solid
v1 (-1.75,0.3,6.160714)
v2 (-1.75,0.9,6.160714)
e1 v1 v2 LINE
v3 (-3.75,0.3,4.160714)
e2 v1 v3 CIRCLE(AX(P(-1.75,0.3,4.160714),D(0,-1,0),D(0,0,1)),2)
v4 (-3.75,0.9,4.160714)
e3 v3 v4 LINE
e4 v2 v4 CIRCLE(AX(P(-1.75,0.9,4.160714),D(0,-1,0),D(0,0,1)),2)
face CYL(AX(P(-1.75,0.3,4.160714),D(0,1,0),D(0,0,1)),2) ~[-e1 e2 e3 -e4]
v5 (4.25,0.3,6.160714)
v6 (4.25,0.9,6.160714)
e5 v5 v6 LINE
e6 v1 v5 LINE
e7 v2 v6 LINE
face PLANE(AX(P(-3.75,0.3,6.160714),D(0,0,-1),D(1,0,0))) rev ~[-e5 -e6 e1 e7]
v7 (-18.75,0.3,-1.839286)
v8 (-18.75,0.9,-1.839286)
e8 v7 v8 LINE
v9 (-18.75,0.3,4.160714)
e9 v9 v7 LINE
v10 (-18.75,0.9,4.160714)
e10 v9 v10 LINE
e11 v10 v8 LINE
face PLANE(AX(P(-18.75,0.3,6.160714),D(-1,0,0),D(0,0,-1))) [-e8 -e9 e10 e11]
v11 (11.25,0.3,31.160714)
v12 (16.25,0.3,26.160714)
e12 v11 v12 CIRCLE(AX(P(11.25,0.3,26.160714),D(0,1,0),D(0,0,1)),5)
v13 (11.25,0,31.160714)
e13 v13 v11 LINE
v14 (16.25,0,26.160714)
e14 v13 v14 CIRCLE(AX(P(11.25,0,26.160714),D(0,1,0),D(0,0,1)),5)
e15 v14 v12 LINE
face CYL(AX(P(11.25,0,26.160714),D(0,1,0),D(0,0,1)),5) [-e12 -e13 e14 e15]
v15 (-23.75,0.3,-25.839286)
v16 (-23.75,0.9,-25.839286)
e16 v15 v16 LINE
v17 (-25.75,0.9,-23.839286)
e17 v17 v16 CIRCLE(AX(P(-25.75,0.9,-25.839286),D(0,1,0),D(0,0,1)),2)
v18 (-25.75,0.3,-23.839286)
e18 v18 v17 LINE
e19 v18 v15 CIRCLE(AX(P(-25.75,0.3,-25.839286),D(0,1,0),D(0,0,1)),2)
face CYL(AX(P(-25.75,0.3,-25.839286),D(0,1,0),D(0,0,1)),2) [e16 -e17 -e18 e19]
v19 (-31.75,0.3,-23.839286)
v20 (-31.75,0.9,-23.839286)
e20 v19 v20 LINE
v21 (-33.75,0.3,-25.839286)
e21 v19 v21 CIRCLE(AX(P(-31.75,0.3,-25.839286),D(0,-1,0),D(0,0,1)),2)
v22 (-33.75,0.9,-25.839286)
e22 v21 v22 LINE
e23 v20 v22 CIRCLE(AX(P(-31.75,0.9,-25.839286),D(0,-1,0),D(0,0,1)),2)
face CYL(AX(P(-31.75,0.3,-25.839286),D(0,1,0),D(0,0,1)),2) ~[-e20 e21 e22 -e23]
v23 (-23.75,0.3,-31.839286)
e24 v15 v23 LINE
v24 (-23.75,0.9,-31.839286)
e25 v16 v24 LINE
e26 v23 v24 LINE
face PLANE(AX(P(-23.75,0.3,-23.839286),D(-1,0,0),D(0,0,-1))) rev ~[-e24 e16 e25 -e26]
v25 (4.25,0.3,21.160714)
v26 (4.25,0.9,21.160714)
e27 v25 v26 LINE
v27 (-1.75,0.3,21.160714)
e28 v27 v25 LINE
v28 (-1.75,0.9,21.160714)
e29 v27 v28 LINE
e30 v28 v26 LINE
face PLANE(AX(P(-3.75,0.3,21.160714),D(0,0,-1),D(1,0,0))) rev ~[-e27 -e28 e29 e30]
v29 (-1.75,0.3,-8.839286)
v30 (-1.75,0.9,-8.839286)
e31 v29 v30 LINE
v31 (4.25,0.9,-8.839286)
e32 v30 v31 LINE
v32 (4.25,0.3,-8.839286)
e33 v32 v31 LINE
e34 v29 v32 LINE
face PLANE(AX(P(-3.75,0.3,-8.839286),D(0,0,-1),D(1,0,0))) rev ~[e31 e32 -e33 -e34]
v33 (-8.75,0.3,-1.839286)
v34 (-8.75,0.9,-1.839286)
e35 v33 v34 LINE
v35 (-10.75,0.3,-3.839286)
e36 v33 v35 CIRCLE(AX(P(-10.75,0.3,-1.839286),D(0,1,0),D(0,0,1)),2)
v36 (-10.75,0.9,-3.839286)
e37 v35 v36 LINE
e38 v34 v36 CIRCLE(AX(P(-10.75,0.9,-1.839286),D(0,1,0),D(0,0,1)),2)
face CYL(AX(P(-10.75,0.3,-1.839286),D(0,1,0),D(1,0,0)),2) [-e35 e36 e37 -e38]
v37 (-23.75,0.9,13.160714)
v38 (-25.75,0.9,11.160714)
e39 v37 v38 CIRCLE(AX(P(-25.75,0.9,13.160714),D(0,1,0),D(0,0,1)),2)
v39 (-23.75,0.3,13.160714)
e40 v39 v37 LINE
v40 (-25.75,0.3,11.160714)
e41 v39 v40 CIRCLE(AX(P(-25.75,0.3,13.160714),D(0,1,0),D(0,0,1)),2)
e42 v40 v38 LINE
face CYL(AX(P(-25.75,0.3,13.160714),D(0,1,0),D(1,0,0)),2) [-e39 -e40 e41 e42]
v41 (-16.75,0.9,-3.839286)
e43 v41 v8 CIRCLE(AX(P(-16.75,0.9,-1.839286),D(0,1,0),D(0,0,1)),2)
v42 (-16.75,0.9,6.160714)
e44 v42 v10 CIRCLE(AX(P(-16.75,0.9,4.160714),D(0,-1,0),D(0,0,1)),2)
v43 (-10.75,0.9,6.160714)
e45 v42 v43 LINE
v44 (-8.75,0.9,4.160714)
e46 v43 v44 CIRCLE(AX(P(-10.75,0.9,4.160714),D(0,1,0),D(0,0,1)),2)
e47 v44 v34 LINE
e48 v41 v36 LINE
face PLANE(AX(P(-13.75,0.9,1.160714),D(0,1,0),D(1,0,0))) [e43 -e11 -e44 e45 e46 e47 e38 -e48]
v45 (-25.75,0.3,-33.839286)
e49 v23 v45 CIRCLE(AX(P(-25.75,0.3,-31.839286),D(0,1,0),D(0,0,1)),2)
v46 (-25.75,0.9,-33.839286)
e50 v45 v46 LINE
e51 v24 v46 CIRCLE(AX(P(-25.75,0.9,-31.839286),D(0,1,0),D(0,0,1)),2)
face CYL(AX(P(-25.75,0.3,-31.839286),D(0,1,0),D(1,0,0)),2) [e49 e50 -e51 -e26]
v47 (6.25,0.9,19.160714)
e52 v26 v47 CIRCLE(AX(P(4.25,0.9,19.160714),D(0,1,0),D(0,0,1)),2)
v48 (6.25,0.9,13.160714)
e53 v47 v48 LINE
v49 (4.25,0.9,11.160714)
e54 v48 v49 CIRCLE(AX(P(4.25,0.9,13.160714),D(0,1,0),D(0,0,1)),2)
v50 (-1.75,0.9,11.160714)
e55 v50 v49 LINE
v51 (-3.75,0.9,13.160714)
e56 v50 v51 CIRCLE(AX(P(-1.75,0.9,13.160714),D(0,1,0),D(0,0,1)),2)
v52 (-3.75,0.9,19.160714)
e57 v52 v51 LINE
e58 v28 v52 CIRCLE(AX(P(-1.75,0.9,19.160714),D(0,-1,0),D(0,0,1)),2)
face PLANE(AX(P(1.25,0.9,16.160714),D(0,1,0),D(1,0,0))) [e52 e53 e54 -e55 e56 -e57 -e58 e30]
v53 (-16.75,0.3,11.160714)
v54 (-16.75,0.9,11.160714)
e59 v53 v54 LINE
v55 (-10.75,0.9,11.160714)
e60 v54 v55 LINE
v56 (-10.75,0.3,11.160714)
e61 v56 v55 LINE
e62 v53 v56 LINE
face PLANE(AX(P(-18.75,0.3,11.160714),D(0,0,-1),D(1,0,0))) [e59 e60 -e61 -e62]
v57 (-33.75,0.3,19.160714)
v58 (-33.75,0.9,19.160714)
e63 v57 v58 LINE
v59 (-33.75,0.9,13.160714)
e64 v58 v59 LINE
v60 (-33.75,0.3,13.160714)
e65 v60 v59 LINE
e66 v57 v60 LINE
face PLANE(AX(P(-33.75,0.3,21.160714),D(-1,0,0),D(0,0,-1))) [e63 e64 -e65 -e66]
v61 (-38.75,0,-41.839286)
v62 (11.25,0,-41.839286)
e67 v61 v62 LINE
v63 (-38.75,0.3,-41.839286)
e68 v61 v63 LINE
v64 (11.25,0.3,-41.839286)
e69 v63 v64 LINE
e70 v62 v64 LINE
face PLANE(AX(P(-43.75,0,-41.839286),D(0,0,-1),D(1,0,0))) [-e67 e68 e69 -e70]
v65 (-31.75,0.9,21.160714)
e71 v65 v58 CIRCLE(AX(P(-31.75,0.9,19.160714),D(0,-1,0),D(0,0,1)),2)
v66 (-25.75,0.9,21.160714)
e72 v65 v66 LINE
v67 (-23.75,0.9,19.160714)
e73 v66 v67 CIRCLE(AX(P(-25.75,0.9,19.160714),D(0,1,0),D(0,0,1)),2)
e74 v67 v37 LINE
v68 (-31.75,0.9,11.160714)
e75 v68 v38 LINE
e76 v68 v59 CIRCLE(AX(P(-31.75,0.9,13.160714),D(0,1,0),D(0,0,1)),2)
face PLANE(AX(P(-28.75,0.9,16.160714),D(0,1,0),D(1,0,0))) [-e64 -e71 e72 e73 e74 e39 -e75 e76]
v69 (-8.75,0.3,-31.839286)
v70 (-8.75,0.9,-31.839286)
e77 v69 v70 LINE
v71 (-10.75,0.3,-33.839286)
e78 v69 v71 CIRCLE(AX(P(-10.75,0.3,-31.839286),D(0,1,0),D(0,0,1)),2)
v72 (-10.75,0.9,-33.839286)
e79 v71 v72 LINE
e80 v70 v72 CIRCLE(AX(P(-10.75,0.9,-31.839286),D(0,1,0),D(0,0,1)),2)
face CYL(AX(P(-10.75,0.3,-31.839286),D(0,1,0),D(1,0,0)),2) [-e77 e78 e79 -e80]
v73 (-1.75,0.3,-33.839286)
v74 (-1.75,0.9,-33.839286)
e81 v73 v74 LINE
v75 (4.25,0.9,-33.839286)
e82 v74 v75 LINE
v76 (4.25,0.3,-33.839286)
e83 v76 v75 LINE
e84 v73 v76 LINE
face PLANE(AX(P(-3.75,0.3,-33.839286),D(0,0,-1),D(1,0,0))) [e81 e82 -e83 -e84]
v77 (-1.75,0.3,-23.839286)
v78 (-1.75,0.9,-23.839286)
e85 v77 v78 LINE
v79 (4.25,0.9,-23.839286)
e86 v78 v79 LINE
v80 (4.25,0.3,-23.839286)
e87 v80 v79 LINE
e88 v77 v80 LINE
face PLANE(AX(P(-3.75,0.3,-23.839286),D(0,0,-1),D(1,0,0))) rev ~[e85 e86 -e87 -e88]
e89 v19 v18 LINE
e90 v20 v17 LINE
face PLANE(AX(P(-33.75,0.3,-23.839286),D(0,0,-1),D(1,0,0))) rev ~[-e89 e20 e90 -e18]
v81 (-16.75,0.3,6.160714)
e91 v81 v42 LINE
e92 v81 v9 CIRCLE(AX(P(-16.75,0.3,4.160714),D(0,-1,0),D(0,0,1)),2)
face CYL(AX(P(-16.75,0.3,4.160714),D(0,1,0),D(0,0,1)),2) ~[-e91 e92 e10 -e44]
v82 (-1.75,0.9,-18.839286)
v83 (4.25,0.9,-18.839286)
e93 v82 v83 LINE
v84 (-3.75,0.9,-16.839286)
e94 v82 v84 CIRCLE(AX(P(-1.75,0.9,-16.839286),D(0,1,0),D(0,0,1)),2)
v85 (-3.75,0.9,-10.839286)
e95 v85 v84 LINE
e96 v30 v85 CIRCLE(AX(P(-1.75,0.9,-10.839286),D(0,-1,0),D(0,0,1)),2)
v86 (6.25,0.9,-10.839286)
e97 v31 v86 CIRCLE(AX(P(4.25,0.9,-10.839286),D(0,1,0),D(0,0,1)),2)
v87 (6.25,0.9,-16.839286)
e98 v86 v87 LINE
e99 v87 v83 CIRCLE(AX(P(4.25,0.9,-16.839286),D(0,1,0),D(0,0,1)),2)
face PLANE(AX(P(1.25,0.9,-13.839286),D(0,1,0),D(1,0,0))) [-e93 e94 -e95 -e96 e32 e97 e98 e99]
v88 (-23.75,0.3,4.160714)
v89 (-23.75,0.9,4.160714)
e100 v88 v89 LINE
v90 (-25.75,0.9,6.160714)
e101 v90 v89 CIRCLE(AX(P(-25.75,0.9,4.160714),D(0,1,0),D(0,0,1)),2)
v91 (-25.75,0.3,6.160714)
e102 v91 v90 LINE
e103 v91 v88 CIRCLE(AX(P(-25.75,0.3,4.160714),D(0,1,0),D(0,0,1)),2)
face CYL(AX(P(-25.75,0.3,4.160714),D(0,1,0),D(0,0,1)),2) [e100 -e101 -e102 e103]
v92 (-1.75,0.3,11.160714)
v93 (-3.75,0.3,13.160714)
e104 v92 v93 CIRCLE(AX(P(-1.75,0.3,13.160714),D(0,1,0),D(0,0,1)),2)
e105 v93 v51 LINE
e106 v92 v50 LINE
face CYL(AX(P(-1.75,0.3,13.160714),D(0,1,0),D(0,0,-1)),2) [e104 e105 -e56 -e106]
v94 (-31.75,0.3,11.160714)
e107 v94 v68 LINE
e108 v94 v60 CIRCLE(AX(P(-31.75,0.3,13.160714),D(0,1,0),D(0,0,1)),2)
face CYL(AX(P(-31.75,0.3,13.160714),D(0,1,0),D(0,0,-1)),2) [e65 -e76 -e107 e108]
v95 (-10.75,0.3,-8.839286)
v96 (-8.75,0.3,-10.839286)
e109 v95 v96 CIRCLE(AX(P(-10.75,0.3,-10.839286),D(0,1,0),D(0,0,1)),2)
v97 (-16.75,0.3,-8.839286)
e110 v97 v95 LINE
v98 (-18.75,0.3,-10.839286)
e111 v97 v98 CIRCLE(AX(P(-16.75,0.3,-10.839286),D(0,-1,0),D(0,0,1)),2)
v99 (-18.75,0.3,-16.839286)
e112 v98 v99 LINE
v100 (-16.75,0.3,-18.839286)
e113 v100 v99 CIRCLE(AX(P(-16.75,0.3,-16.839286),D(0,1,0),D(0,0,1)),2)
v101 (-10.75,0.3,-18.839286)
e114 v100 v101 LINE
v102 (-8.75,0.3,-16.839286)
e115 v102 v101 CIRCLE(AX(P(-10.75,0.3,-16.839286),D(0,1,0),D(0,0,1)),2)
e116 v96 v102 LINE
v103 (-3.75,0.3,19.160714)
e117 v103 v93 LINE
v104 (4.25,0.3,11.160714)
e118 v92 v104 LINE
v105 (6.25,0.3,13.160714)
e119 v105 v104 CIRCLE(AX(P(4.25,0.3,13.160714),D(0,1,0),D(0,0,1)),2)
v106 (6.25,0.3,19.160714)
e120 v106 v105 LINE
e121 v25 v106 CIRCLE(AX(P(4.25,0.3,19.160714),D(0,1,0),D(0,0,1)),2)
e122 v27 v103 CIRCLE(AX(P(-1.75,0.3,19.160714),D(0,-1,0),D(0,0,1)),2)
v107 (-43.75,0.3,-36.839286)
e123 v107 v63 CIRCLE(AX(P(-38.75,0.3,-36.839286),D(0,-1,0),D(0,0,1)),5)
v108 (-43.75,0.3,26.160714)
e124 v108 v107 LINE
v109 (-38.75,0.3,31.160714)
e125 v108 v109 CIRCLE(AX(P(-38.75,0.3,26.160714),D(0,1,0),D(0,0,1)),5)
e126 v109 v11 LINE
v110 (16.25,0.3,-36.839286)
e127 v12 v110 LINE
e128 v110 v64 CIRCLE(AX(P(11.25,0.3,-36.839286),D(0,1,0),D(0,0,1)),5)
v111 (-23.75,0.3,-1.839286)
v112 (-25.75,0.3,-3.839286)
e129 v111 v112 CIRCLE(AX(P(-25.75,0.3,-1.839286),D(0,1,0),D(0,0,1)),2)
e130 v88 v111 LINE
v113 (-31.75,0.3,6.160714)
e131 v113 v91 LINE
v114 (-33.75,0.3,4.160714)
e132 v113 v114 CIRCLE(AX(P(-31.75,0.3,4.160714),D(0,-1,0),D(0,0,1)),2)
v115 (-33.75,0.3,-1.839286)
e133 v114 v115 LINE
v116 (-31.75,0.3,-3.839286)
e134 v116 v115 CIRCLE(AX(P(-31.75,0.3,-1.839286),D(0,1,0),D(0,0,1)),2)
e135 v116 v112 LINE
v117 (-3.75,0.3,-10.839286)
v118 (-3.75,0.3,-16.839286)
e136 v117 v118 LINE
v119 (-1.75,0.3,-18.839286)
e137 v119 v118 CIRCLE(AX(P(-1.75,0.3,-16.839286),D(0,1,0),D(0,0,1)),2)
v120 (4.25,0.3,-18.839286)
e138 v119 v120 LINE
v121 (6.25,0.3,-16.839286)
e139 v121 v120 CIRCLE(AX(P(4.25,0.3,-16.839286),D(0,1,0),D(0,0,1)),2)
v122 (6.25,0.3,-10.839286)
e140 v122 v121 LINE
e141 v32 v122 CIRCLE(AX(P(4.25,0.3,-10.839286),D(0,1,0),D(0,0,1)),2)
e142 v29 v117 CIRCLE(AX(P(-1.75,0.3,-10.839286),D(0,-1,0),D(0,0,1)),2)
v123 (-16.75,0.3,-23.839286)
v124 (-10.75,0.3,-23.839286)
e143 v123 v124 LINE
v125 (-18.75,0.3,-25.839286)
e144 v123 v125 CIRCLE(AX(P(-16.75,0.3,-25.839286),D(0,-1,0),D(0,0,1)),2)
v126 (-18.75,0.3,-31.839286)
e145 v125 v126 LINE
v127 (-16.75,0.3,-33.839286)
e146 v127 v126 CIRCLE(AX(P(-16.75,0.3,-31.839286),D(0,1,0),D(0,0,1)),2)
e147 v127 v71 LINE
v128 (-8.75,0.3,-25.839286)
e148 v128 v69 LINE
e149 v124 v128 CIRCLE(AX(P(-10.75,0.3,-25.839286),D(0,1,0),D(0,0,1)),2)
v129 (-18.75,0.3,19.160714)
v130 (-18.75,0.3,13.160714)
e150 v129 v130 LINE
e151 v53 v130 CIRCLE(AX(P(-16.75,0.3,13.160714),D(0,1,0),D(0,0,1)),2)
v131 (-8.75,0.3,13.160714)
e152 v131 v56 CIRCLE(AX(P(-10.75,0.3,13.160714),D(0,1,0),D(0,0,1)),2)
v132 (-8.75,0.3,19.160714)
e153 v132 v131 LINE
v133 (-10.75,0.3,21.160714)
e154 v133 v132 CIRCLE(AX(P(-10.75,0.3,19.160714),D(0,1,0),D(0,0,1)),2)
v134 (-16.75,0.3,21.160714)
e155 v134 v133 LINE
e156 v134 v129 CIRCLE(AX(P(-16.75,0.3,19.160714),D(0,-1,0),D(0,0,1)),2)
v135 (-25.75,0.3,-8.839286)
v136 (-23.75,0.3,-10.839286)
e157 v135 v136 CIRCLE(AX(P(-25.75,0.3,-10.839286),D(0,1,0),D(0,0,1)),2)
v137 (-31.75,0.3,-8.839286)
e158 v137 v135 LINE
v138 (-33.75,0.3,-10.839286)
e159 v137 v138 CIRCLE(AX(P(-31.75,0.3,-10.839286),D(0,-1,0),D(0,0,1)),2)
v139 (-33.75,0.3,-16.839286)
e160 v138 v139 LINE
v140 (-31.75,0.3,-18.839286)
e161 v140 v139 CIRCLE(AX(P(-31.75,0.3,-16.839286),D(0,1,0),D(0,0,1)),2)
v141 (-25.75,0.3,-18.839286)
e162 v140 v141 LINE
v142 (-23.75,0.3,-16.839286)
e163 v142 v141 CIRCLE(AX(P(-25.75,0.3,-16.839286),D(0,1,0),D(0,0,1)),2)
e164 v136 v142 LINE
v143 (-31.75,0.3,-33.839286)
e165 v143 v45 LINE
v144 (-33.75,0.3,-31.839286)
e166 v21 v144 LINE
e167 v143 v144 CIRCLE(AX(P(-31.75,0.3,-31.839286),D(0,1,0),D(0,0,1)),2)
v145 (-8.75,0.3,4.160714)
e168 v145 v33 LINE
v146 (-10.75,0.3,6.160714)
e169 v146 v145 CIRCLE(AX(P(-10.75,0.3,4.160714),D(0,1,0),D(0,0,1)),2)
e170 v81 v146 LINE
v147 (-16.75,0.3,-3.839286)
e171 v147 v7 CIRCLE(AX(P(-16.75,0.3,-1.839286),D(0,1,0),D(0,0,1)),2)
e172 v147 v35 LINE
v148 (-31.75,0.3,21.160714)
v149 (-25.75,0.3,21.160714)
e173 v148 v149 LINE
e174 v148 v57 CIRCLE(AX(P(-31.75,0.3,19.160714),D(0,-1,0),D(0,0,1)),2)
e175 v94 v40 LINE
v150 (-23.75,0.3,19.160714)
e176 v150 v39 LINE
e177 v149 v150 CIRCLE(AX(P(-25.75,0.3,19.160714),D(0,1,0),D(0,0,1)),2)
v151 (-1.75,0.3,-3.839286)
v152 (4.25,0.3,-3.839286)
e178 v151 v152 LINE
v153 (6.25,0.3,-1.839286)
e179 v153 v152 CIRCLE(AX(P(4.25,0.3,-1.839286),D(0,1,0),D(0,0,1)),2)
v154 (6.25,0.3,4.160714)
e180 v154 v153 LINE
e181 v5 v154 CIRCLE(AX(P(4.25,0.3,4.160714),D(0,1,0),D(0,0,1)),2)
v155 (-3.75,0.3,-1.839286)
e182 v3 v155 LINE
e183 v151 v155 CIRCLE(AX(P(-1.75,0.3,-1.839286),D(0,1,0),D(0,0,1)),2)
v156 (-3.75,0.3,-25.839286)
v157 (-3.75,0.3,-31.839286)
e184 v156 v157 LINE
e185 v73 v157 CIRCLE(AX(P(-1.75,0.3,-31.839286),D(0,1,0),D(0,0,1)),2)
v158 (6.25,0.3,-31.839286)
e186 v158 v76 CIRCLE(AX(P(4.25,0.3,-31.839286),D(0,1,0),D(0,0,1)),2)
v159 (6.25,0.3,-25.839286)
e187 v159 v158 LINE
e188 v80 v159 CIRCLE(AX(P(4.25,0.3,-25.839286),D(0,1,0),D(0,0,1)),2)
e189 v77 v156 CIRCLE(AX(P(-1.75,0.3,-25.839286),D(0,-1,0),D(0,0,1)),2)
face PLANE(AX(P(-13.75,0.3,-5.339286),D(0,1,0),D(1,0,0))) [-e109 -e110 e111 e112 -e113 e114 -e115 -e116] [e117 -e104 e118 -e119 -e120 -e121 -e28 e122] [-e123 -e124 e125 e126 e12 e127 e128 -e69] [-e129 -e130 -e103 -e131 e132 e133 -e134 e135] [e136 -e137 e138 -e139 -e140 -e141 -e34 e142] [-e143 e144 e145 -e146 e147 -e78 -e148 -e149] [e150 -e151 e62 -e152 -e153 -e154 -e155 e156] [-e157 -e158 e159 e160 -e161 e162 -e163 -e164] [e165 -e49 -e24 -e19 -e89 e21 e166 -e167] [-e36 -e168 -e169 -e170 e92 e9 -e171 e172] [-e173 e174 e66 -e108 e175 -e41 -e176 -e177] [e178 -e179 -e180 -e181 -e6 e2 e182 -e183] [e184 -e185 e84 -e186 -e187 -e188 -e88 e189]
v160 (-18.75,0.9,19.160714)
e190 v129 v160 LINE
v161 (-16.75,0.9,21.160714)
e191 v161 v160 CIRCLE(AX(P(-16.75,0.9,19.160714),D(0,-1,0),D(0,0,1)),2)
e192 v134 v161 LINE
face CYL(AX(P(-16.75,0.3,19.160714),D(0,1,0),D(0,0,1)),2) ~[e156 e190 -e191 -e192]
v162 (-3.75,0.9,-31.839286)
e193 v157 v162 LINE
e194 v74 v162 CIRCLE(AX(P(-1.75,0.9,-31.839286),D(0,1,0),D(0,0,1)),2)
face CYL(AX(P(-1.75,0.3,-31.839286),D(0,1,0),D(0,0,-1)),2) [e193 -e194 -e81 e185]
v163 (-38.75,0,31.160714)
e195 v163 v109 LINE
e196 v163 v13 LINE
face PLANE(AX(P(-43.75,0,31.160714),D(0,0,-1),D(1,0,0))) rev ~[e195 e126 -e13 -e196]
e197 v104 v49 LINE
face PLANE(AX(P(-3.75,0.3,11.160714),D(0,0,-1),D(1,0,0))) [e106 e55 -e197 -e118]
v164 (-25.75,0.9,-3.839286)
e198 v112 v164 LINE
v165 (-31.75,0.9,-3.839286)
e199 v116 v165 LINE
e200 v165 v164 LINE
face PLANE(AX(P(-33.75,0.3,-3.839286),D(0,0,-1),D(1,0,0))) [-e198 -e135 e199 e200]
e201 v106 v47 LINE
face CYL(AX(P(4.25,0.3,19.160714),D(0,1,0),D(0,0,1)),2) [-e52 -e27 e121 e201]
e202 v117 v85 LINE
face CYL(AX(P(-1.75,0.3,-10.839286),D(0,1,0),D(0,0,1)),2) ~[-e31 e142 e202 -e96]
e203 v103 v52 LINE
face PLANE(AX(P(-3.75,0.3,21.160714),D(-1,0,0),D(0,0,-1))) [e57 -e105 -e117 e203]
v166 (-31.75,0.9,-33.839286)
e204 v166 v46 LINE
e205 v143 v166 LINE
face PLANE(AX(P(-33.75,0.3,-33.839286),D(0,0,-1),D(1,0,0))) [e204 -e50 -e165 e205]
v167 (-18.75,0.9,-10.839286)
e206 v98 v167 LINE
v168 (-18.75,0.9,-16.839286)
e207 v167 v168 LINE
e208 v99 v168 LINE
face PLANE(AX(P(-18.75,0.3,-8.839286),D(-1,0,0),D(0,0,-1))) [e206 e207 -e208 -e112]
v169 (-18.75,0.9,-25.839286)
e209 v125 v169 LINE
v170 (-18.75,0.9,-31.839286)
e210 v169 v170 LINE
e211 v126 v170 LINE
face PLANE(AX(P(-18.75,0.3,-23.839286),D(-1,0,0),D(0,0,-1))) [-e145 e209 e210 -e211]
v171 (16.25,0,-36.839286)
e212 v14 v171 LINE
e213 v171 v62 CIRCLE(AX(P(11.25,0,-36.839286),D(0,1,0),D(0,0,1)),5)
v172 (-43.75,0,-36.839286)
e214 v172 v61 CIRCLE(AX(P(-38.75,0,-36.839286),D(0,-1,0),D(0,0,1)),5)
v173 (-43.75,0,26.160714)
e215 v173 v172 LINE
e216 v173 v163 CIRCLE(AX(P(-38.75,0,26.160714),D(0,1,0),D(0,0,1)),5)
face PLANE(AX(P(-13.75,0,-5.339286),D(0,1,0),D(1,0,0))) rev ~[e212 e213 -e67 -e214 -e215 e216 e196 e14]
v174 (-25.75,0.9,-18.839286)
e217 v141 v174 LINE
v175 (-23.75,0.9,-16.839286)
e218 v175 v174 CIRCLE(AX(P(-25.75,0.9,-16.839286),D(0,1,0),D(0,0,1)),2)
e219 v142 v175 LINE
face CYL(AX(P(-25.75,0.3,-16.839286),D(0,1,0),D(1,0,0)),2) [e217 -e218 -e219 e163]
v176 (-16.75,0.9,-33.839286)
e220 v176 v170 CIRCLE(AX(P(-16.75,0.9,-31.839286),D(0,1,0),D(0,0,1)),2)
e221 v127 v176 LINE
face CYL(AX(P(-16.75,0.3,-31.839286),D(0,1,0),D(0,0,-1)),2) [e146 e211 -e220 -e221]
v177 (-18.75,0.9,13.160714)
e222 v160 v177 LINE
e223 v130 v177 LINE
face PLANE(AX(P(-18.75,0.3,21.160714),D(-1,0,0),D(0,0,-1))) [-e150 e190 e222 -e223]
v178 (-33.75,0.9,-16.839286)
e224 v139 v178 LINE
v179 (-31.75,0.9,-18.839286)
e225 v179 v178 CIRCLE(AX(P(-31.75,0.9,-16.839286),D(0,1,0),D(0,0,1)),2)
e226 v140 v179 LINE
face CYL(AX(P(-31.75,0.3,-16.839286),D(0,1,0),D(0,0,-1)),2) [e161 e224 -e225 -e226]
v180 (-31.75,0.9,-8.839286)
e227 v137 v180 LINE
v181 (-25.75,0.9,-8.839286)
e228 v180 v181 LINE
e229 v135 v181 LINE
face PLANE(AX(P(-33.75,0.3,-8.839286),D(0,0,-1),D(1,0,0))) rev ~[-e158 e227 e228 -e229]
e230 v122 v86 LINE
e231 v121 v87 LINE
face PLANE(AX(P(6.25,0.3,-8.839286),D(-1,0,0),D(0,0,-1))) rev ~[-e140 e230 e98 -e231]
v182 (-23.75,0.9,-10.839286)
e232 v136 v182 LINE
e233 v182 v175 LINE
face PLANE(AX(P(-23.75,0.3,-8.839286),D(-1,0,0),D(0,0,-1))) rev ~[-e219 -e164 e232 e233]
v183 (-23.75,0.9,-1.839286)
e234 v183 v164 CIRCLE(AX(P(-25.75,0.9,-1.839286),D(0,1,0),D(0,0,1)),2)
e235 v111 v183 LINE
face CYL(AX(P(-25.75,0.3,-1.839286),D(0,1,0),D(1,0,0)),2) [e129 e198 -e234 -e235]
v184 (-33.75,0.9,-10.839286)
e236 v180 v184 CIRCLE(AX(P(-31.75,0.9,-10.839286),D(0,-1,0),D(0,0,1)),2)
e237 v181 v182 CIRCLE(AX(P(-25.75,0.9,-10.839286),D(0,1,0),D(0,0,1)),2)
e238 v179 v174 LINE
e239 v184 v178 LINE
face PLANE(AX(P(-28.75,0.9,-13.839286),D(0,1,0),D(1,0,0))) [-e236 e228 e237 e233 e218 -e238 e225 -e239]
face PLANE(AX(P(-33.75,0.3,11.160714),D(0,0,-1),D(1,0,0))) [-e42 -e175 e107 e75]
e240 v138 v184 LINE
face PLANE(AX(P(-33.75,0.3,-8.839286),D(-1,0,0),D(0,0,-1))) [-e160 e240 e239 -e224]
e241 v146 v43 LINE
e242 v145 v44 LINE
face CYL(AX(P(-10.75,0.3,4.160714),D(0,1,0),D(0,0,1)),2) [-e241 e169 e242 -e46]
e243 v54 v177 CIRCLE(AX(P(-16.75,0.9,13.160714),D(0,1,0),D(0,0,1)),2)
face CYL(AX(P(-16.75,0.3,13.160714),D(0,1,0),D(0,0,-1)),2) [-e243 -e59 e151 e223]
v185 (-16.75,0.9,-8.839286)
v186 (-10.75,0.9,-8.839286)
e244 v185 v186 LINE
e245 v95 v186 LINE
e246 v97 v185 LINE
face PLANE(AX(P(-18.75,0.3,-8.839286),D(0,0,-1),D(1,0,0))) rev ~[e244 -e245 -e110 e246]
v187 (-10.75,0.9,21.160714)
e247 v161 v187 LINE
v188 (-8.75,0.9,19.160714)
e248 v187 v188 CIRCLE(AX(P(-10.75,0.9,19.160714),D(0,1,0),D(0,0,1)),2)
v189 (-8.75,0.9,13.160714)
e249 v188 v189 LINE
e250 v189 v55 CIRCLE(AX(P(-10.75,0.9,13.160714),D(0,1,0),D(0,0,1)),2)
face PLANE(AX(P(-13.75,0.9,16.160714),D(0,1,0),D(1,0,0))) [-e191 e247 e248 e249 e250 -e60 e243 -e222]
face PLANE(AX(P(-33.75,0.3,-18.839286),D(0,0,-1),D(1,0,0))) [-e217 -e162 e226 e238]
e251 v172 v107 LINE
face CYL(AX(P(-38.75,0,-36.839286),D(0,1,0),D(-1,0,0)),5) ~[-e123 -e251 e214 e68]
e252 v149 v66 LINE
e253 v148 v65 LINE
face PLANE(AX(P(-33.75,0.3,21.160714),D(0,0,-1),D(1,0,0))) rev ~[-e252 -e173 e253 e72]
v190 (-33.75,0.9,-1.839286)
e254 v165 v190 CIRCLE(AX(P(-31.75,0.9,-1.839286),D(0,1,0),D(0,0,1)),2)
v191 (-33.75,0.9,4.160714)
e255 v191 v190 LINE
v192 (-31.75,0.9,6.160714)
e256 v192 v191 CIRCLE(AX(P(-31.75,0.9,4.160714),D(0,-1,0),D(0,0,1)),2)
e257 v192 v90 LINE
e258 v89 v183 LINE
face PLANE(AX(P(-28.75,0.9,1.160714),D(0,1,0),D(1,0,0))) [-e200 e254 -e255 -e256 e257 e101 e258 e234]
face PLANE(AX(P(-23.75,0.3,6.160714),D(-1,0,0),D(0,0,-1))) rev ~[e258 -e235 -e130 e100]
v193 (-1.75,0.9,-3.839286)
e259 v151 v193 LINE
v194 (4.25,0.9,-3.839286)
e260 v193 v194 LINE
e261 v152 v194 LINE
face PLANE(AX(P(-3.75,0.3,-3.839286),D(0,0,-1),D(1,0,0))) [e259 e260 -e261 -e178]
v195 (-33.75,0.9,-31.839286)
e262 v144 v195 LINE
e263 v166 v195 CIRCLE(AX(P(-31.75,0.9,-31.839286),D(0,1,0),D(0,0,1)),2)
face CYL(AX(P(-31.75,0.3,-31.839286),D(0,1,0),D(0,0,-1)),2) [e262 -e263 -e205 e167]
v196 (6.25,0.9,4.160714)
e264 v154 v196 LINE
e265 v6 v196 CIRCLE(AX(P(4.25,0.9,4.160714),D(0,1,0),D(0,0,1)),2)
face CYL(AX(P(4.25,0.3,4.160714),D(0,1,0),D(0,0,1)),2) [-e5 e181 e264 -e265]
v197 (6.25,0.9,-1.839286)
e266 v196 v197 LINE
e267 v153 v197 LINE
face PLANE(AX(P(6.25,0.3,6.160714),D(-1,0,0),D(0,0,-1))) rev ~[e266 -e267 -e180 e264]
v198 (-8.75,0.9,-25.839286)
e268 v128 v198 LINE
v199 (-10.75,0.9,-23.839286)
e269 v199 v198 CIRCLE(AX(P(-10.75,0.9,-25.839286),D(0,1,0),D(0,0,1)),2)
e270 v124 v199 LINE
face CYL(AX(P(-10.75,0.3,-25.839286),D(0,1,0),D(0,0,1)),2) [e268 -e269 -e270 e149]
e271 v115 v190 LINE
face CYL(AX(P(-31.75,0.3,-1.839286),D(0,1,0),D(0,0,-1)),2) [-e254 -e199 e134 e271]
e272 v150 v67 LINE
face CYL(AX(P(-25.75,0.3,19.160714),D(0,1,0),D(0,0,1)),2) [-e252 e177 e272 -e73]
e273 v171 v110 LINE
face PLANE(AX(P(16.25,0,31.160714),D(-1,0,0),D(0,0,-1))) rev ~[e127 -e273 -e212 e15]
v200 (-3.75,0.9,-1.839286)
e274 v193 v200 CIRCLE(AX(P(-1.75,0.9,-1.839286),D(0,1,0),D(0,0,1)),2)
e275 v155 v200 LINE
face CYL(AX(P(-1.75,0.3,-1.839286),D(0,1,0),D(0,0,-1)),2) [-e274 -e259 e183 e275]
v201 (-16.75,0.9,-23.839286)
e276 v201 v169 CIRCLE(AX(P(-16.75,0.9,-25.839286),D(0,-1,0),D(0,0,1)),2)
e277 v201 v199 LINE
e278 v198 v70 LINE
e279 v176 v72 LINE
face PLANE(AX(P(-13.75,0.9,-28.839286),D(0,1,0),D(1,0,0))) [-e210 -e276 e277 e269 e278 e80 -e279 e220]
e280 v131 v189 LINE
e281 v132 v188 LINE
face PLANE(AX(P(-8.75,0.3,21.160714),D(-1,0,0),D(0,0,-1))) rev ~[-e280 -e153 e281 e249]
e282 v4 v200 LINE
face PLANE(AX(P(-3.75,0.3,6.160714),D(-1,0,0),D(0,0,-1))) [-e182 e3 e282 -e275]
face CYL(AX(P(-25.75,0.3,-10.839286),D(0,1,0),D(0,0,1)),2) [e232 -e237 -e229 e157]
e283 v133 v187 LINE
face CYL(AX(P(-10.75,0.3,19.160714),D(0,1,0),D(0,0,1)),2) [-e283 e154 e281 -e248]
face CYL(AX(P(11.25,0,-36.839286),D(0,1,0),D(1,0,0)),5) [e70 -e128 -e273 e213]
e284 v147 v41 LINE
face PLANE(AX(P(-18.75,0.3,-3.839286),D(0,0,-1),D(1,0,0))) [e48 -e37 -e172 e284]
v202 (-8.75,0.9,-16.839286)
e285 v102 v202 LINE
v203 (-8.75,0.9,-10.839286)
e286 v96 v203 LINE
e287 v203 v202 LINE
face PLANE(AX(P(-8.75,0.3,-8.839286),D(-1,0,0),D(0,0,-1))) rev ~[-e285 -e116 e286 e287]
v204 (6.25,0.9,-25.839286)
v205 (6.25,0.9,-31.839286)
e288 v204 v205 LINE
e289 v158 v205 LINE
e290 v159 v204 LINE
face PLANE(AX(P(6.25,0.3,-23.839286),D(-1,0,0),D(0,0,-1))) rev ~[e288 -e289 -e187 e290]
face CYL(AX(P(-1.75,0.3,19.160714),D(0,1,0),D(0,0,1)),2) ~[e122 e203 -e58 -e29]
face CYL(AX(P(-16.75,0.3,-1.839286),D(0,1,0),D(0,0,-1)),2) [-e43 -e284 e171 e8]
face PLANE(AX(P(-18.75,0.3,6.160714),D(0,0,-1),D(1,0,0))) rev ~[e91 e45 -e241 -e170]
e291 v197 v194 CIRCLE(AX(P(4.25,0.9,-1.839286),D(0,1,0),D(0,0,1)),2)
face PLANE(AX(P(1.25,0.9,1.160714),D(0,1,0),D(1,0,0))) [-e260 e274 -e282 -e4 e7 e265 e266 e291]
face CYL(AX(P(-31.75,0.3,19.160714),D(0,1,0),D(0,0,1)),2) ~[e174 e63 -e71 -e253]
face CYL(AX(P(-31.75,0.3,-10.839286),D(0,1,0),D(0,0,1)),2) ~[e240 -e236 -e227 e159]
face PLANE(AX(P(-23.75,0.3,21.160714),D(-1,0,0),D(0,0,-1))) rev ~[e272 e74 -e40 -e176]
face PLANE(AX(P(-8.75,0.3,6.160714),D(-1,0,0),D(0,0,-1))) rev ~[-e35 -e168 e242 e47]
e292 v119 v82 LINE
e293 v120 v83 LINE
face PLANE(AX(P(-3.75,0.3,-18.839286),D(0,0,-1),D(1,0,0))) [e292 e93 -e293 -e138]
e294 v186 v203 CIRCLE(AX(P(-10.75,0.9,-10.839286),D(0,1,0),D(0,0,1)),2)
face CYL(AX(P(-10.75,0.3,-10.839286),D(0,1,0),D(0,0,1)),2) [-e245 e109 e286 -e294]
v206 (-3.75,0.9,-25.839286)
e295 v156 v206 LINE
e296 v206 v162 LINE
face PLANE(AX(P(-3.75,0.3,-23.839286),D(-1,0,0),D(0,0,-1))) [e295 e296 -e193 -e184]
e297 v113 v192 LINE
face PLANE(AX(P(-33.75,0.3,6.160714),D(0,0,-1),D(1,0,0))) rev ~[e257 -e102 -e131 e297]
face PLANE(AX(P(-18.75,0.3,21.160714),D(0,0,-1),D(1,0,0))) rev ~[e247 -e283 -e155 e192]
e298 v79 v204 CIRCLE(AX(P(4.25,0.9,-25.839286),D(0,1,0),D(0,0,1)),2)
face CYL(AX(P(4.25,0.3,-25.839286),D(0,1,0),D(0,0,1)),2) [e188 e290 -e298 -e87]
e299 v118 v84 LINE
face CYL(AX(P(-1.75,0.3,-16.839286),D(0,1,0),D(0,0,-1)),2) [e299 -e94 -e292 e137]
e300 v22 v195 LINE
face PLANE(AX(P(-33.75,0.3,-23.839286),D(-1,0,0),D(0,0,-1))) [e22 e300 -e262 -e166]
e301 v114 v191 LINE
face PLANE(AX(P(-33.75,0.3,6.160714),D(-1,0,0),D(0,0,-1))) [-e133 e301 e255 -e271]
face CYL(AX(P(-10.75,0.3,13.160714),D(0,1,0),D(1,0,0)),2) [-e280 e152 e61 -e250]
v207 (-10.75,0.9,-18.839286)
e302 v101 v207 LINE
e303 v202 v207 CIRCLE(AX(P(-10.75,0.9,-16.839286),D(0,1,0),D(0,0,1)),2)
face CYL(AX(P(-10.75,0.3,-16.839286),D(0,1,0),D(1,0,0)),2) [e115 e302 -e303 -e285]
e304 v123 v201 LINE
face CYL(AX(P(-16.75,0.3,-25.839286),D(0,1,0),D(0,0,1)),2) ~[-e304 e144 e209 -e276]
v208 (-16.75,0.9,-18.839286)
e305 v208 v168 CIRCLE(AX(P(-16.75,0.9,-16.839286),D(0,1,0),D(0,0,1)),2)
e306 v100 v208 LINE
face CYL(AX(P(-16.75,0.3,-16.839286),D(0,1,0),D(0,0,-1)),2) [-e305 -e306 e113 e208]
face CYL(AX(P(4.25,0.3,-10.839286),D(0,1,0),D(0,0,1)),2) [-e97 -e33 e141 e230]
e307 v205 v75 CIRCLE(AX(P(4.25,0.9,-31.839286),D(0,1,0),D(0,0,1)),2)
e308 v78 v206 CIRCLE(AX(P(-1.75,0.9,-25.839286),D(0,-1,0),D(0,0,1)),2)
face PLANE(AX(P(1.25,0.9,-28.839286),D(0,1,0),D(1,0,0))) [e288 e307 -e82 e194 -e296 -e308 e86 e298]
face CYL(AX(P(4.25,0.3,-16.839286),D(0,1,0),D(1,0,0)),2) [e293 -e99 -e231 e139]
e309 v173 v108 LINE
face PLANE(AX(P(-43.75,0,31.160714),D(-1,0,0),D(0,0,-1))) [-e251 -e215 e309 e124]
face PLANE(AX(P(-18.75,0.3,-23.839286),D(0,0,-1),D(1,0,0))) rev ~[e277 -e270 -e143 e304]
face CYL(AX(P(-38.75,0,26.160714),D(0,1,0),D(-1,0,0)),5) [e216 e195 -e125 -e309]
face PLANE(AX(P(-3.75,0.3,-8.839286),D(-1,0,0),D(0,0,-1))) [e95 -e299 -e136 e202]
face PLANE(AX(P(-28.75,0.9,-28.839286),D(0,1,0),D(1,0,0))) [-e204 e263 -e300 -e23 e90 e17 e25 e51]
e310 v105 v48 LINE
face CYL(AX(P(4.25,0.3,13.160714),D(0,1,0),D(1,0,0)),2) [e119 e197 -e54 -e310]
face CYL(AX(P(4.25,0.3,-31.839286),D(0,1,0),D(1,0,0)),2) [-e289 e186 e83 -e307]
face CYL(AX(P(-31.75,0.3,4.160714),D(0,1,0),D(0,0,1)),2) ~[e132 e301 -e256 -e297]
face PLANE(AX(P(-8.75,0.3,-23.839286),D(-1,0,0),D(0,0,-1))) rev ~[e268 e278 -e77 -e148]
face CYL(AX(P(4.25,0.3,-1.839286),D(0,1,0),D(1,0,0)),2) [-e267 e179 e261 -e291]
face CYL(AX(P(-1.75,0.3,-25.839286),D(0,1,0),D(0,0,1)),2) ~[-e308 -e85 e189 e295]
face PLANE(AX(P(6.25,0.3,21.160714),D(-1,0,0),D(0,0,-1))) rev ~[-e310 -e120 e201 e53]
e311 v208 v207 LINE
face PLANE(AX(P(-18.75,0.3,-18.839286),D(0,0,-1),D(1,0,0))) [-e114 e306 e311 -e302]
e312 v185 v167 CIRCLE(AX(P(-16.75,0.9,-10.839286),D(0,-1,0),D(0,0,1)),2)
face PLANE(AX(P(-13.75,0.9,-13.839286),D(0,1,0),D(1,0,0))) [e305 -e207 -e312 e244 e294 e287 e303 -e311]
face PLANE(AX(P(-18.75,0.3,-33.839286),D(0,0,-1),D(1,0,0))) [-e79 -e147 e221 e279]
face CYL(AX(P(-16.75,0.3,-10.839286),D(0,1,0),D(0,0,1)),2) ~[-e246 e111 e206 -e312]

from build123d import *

# Parameters (mm, degrees)
SKETCH1_W              = 60
SKETCH1_H              = 73
BOSS_EXTRUDE1_DEPTH    = 0.3
FILLET1_R              = 5
SKETCH2_W              = 10
SKETCH2_H              = 10
BOSS_EXTRUDE2_DEPTH    = 0.6
FILLET2_R              = 2
LPATTERN1_COUNT        = 3
LPATTERN1_PITCH        = 15
LPATTERN1_COUNT_DIR2   = 4
LPATTERN1_PITCH_DIR2   = 15
FILLET2_OF_LPATTERN1_R = 2


with BuildPart() as part:
    # Sketch1 → Boss-Extrude1 (new body)
    with BuildSketch(Plane(origin=(0, 0, 0), x_dir=(1, 0, 0), z_dir=(0, 1, 0))):
        with Locations((-13.75, 5.339285714)):
            Rectangle(SKETCH1_W, SKETCH1_H)
    extrude(amount=BOSS_EXTRUDE1_DEPTH)

    # Fillet1
    fillet1_edges = [part.edges().sort_by_distance(p)[0] for p in [
        (-43.75, 0.15, -41.839285714),
        (16.25, 0.15, -41.839285714),
        (16.25, 0.15, 31.160714286),
        (-43.75, 0.15, 31.160714286),
    ]]
    fillet(fillet1_edges, radius=FILLET1_R)

    # Sketch2 → Boss-Extrude2 (add)
    with BuildSketch(Plane(origin=(0, 0.3, 0), x_dir=(1, 0, 0), z_dir=(0, 1, 0))):
        with Locations((1.25, -16.160714286)):
            Rectangle(SKETCH2_W, SKETCH2_H)
    boss_extrude2 = extrude(amount=BOSS_EXTRUDE2_DEPTH)

    # Fillet2
    fillet2_edges = [part.edges().sort_by_distance(p)[0] for p in [
        (6.25, 0.6, 21.160714286),
        (6.25, 0.6, 11.160714286),
        (-3.75, 0.6, 11.160714286),
        (-3.75, 0.6, 21.160714286),
    ]]
    fillet(fillet2_edges, radius=FILLET2_R)

    # LPattern1: Boss-Extrude2 3 × 4
    with Locations(*[(-i * LPATTERN1_PITCH, 0, -j * LPATTERN1_PITCH_DIR2) for i in range(LPATTERN1_COUNT) for j in range(LPATTERN1_COUNT_DIR2) if (i, j) != (0, 0)]):
        add(boss_extrude2)

    # Fillet2 of LPattern1
    fillet2_of_lpattern1_edges = [part.edges().sort_by_distance(p)[0] for p in [
        (6.25, 0.6, 6.160714286),
        (6.25, 0.6, -3.839285714),
        (-3.75, 0.6, -3.839285714),
        (-3.75, 0.6, 6.160714286),
        (6.25, 0.6, -8.839285714),
        (6.25, 0.6, -18.839285714),
        (-3.75, 0.6, -18.839285714),
        (-3.75, 0.6, -8.839285714),
        (6.25, 0.6, -23.839285714),
        (6.25, 0.6, -33.839285714),
        (-3.75, 0.6, -33.839285714),
        (-3.75, 0.6, -23.839285714),
        (-8.75, 0.6, 21.160714286),
        (-8.75, 0.6, 11.160714286),
        (-18.75, 0.6, 11.160714286),
        (-18.75, 0.6, 21.160714286),
        (-8.75, 0.6, 6.160714286),
        (-8.75, 0.6, -3.839285714),
        (-18.75, 0.6, -3.839285714),
        (-18.75, 0.6, 6.160714286),
        (-8.75, 0.6, -8.839285714),
        (-8.75, 0.6, -18.839285714),
        (-18.75, 0.6, -18.839285714),
        (-18.75, 0.6, -8.839285714),
        (-8.75, 0.6, -23.839285714),
        (-8.75, 0.6, -33.839285714),
        (-18.75, 0.6, -33.839285714),
        (-18.75, 0.6, -23.839285714),
        (-23.75, 0.6, 21.160714286),
        (-23.75, 0.6, 11.160714286),
        (-33.75, 0.6, 11.160714286),
        (-33.75, 0.6, 21.160714286),
        (-23.75, 0.6, 6.160714286),
        (-23.75, 0.6, -3.839285714),
        (-33.75, 0.6, -3.839285714),
        (-33.75, 0.6, 6.160714286),
        (-23.75, 0.6, -8.839285714),
        (-23.75, 0.6, -18.839285714),
        (-33.75, 0.6, -18.839285714),
        (-33.75, 0.6, -8.839285714),
        (-23.75, 0.6, -23.839285714),
        (-23.75, 0.6, -33.839285714),
        (-33.75, 0.6, -33.839285714),
        (-33.75, 0.6, -23.839285714),
    ]]
    fillet(fillet2_of_lpattern1_edges, radius=FILLET2_OF_LPATTERN1_R)


solid = part.part
